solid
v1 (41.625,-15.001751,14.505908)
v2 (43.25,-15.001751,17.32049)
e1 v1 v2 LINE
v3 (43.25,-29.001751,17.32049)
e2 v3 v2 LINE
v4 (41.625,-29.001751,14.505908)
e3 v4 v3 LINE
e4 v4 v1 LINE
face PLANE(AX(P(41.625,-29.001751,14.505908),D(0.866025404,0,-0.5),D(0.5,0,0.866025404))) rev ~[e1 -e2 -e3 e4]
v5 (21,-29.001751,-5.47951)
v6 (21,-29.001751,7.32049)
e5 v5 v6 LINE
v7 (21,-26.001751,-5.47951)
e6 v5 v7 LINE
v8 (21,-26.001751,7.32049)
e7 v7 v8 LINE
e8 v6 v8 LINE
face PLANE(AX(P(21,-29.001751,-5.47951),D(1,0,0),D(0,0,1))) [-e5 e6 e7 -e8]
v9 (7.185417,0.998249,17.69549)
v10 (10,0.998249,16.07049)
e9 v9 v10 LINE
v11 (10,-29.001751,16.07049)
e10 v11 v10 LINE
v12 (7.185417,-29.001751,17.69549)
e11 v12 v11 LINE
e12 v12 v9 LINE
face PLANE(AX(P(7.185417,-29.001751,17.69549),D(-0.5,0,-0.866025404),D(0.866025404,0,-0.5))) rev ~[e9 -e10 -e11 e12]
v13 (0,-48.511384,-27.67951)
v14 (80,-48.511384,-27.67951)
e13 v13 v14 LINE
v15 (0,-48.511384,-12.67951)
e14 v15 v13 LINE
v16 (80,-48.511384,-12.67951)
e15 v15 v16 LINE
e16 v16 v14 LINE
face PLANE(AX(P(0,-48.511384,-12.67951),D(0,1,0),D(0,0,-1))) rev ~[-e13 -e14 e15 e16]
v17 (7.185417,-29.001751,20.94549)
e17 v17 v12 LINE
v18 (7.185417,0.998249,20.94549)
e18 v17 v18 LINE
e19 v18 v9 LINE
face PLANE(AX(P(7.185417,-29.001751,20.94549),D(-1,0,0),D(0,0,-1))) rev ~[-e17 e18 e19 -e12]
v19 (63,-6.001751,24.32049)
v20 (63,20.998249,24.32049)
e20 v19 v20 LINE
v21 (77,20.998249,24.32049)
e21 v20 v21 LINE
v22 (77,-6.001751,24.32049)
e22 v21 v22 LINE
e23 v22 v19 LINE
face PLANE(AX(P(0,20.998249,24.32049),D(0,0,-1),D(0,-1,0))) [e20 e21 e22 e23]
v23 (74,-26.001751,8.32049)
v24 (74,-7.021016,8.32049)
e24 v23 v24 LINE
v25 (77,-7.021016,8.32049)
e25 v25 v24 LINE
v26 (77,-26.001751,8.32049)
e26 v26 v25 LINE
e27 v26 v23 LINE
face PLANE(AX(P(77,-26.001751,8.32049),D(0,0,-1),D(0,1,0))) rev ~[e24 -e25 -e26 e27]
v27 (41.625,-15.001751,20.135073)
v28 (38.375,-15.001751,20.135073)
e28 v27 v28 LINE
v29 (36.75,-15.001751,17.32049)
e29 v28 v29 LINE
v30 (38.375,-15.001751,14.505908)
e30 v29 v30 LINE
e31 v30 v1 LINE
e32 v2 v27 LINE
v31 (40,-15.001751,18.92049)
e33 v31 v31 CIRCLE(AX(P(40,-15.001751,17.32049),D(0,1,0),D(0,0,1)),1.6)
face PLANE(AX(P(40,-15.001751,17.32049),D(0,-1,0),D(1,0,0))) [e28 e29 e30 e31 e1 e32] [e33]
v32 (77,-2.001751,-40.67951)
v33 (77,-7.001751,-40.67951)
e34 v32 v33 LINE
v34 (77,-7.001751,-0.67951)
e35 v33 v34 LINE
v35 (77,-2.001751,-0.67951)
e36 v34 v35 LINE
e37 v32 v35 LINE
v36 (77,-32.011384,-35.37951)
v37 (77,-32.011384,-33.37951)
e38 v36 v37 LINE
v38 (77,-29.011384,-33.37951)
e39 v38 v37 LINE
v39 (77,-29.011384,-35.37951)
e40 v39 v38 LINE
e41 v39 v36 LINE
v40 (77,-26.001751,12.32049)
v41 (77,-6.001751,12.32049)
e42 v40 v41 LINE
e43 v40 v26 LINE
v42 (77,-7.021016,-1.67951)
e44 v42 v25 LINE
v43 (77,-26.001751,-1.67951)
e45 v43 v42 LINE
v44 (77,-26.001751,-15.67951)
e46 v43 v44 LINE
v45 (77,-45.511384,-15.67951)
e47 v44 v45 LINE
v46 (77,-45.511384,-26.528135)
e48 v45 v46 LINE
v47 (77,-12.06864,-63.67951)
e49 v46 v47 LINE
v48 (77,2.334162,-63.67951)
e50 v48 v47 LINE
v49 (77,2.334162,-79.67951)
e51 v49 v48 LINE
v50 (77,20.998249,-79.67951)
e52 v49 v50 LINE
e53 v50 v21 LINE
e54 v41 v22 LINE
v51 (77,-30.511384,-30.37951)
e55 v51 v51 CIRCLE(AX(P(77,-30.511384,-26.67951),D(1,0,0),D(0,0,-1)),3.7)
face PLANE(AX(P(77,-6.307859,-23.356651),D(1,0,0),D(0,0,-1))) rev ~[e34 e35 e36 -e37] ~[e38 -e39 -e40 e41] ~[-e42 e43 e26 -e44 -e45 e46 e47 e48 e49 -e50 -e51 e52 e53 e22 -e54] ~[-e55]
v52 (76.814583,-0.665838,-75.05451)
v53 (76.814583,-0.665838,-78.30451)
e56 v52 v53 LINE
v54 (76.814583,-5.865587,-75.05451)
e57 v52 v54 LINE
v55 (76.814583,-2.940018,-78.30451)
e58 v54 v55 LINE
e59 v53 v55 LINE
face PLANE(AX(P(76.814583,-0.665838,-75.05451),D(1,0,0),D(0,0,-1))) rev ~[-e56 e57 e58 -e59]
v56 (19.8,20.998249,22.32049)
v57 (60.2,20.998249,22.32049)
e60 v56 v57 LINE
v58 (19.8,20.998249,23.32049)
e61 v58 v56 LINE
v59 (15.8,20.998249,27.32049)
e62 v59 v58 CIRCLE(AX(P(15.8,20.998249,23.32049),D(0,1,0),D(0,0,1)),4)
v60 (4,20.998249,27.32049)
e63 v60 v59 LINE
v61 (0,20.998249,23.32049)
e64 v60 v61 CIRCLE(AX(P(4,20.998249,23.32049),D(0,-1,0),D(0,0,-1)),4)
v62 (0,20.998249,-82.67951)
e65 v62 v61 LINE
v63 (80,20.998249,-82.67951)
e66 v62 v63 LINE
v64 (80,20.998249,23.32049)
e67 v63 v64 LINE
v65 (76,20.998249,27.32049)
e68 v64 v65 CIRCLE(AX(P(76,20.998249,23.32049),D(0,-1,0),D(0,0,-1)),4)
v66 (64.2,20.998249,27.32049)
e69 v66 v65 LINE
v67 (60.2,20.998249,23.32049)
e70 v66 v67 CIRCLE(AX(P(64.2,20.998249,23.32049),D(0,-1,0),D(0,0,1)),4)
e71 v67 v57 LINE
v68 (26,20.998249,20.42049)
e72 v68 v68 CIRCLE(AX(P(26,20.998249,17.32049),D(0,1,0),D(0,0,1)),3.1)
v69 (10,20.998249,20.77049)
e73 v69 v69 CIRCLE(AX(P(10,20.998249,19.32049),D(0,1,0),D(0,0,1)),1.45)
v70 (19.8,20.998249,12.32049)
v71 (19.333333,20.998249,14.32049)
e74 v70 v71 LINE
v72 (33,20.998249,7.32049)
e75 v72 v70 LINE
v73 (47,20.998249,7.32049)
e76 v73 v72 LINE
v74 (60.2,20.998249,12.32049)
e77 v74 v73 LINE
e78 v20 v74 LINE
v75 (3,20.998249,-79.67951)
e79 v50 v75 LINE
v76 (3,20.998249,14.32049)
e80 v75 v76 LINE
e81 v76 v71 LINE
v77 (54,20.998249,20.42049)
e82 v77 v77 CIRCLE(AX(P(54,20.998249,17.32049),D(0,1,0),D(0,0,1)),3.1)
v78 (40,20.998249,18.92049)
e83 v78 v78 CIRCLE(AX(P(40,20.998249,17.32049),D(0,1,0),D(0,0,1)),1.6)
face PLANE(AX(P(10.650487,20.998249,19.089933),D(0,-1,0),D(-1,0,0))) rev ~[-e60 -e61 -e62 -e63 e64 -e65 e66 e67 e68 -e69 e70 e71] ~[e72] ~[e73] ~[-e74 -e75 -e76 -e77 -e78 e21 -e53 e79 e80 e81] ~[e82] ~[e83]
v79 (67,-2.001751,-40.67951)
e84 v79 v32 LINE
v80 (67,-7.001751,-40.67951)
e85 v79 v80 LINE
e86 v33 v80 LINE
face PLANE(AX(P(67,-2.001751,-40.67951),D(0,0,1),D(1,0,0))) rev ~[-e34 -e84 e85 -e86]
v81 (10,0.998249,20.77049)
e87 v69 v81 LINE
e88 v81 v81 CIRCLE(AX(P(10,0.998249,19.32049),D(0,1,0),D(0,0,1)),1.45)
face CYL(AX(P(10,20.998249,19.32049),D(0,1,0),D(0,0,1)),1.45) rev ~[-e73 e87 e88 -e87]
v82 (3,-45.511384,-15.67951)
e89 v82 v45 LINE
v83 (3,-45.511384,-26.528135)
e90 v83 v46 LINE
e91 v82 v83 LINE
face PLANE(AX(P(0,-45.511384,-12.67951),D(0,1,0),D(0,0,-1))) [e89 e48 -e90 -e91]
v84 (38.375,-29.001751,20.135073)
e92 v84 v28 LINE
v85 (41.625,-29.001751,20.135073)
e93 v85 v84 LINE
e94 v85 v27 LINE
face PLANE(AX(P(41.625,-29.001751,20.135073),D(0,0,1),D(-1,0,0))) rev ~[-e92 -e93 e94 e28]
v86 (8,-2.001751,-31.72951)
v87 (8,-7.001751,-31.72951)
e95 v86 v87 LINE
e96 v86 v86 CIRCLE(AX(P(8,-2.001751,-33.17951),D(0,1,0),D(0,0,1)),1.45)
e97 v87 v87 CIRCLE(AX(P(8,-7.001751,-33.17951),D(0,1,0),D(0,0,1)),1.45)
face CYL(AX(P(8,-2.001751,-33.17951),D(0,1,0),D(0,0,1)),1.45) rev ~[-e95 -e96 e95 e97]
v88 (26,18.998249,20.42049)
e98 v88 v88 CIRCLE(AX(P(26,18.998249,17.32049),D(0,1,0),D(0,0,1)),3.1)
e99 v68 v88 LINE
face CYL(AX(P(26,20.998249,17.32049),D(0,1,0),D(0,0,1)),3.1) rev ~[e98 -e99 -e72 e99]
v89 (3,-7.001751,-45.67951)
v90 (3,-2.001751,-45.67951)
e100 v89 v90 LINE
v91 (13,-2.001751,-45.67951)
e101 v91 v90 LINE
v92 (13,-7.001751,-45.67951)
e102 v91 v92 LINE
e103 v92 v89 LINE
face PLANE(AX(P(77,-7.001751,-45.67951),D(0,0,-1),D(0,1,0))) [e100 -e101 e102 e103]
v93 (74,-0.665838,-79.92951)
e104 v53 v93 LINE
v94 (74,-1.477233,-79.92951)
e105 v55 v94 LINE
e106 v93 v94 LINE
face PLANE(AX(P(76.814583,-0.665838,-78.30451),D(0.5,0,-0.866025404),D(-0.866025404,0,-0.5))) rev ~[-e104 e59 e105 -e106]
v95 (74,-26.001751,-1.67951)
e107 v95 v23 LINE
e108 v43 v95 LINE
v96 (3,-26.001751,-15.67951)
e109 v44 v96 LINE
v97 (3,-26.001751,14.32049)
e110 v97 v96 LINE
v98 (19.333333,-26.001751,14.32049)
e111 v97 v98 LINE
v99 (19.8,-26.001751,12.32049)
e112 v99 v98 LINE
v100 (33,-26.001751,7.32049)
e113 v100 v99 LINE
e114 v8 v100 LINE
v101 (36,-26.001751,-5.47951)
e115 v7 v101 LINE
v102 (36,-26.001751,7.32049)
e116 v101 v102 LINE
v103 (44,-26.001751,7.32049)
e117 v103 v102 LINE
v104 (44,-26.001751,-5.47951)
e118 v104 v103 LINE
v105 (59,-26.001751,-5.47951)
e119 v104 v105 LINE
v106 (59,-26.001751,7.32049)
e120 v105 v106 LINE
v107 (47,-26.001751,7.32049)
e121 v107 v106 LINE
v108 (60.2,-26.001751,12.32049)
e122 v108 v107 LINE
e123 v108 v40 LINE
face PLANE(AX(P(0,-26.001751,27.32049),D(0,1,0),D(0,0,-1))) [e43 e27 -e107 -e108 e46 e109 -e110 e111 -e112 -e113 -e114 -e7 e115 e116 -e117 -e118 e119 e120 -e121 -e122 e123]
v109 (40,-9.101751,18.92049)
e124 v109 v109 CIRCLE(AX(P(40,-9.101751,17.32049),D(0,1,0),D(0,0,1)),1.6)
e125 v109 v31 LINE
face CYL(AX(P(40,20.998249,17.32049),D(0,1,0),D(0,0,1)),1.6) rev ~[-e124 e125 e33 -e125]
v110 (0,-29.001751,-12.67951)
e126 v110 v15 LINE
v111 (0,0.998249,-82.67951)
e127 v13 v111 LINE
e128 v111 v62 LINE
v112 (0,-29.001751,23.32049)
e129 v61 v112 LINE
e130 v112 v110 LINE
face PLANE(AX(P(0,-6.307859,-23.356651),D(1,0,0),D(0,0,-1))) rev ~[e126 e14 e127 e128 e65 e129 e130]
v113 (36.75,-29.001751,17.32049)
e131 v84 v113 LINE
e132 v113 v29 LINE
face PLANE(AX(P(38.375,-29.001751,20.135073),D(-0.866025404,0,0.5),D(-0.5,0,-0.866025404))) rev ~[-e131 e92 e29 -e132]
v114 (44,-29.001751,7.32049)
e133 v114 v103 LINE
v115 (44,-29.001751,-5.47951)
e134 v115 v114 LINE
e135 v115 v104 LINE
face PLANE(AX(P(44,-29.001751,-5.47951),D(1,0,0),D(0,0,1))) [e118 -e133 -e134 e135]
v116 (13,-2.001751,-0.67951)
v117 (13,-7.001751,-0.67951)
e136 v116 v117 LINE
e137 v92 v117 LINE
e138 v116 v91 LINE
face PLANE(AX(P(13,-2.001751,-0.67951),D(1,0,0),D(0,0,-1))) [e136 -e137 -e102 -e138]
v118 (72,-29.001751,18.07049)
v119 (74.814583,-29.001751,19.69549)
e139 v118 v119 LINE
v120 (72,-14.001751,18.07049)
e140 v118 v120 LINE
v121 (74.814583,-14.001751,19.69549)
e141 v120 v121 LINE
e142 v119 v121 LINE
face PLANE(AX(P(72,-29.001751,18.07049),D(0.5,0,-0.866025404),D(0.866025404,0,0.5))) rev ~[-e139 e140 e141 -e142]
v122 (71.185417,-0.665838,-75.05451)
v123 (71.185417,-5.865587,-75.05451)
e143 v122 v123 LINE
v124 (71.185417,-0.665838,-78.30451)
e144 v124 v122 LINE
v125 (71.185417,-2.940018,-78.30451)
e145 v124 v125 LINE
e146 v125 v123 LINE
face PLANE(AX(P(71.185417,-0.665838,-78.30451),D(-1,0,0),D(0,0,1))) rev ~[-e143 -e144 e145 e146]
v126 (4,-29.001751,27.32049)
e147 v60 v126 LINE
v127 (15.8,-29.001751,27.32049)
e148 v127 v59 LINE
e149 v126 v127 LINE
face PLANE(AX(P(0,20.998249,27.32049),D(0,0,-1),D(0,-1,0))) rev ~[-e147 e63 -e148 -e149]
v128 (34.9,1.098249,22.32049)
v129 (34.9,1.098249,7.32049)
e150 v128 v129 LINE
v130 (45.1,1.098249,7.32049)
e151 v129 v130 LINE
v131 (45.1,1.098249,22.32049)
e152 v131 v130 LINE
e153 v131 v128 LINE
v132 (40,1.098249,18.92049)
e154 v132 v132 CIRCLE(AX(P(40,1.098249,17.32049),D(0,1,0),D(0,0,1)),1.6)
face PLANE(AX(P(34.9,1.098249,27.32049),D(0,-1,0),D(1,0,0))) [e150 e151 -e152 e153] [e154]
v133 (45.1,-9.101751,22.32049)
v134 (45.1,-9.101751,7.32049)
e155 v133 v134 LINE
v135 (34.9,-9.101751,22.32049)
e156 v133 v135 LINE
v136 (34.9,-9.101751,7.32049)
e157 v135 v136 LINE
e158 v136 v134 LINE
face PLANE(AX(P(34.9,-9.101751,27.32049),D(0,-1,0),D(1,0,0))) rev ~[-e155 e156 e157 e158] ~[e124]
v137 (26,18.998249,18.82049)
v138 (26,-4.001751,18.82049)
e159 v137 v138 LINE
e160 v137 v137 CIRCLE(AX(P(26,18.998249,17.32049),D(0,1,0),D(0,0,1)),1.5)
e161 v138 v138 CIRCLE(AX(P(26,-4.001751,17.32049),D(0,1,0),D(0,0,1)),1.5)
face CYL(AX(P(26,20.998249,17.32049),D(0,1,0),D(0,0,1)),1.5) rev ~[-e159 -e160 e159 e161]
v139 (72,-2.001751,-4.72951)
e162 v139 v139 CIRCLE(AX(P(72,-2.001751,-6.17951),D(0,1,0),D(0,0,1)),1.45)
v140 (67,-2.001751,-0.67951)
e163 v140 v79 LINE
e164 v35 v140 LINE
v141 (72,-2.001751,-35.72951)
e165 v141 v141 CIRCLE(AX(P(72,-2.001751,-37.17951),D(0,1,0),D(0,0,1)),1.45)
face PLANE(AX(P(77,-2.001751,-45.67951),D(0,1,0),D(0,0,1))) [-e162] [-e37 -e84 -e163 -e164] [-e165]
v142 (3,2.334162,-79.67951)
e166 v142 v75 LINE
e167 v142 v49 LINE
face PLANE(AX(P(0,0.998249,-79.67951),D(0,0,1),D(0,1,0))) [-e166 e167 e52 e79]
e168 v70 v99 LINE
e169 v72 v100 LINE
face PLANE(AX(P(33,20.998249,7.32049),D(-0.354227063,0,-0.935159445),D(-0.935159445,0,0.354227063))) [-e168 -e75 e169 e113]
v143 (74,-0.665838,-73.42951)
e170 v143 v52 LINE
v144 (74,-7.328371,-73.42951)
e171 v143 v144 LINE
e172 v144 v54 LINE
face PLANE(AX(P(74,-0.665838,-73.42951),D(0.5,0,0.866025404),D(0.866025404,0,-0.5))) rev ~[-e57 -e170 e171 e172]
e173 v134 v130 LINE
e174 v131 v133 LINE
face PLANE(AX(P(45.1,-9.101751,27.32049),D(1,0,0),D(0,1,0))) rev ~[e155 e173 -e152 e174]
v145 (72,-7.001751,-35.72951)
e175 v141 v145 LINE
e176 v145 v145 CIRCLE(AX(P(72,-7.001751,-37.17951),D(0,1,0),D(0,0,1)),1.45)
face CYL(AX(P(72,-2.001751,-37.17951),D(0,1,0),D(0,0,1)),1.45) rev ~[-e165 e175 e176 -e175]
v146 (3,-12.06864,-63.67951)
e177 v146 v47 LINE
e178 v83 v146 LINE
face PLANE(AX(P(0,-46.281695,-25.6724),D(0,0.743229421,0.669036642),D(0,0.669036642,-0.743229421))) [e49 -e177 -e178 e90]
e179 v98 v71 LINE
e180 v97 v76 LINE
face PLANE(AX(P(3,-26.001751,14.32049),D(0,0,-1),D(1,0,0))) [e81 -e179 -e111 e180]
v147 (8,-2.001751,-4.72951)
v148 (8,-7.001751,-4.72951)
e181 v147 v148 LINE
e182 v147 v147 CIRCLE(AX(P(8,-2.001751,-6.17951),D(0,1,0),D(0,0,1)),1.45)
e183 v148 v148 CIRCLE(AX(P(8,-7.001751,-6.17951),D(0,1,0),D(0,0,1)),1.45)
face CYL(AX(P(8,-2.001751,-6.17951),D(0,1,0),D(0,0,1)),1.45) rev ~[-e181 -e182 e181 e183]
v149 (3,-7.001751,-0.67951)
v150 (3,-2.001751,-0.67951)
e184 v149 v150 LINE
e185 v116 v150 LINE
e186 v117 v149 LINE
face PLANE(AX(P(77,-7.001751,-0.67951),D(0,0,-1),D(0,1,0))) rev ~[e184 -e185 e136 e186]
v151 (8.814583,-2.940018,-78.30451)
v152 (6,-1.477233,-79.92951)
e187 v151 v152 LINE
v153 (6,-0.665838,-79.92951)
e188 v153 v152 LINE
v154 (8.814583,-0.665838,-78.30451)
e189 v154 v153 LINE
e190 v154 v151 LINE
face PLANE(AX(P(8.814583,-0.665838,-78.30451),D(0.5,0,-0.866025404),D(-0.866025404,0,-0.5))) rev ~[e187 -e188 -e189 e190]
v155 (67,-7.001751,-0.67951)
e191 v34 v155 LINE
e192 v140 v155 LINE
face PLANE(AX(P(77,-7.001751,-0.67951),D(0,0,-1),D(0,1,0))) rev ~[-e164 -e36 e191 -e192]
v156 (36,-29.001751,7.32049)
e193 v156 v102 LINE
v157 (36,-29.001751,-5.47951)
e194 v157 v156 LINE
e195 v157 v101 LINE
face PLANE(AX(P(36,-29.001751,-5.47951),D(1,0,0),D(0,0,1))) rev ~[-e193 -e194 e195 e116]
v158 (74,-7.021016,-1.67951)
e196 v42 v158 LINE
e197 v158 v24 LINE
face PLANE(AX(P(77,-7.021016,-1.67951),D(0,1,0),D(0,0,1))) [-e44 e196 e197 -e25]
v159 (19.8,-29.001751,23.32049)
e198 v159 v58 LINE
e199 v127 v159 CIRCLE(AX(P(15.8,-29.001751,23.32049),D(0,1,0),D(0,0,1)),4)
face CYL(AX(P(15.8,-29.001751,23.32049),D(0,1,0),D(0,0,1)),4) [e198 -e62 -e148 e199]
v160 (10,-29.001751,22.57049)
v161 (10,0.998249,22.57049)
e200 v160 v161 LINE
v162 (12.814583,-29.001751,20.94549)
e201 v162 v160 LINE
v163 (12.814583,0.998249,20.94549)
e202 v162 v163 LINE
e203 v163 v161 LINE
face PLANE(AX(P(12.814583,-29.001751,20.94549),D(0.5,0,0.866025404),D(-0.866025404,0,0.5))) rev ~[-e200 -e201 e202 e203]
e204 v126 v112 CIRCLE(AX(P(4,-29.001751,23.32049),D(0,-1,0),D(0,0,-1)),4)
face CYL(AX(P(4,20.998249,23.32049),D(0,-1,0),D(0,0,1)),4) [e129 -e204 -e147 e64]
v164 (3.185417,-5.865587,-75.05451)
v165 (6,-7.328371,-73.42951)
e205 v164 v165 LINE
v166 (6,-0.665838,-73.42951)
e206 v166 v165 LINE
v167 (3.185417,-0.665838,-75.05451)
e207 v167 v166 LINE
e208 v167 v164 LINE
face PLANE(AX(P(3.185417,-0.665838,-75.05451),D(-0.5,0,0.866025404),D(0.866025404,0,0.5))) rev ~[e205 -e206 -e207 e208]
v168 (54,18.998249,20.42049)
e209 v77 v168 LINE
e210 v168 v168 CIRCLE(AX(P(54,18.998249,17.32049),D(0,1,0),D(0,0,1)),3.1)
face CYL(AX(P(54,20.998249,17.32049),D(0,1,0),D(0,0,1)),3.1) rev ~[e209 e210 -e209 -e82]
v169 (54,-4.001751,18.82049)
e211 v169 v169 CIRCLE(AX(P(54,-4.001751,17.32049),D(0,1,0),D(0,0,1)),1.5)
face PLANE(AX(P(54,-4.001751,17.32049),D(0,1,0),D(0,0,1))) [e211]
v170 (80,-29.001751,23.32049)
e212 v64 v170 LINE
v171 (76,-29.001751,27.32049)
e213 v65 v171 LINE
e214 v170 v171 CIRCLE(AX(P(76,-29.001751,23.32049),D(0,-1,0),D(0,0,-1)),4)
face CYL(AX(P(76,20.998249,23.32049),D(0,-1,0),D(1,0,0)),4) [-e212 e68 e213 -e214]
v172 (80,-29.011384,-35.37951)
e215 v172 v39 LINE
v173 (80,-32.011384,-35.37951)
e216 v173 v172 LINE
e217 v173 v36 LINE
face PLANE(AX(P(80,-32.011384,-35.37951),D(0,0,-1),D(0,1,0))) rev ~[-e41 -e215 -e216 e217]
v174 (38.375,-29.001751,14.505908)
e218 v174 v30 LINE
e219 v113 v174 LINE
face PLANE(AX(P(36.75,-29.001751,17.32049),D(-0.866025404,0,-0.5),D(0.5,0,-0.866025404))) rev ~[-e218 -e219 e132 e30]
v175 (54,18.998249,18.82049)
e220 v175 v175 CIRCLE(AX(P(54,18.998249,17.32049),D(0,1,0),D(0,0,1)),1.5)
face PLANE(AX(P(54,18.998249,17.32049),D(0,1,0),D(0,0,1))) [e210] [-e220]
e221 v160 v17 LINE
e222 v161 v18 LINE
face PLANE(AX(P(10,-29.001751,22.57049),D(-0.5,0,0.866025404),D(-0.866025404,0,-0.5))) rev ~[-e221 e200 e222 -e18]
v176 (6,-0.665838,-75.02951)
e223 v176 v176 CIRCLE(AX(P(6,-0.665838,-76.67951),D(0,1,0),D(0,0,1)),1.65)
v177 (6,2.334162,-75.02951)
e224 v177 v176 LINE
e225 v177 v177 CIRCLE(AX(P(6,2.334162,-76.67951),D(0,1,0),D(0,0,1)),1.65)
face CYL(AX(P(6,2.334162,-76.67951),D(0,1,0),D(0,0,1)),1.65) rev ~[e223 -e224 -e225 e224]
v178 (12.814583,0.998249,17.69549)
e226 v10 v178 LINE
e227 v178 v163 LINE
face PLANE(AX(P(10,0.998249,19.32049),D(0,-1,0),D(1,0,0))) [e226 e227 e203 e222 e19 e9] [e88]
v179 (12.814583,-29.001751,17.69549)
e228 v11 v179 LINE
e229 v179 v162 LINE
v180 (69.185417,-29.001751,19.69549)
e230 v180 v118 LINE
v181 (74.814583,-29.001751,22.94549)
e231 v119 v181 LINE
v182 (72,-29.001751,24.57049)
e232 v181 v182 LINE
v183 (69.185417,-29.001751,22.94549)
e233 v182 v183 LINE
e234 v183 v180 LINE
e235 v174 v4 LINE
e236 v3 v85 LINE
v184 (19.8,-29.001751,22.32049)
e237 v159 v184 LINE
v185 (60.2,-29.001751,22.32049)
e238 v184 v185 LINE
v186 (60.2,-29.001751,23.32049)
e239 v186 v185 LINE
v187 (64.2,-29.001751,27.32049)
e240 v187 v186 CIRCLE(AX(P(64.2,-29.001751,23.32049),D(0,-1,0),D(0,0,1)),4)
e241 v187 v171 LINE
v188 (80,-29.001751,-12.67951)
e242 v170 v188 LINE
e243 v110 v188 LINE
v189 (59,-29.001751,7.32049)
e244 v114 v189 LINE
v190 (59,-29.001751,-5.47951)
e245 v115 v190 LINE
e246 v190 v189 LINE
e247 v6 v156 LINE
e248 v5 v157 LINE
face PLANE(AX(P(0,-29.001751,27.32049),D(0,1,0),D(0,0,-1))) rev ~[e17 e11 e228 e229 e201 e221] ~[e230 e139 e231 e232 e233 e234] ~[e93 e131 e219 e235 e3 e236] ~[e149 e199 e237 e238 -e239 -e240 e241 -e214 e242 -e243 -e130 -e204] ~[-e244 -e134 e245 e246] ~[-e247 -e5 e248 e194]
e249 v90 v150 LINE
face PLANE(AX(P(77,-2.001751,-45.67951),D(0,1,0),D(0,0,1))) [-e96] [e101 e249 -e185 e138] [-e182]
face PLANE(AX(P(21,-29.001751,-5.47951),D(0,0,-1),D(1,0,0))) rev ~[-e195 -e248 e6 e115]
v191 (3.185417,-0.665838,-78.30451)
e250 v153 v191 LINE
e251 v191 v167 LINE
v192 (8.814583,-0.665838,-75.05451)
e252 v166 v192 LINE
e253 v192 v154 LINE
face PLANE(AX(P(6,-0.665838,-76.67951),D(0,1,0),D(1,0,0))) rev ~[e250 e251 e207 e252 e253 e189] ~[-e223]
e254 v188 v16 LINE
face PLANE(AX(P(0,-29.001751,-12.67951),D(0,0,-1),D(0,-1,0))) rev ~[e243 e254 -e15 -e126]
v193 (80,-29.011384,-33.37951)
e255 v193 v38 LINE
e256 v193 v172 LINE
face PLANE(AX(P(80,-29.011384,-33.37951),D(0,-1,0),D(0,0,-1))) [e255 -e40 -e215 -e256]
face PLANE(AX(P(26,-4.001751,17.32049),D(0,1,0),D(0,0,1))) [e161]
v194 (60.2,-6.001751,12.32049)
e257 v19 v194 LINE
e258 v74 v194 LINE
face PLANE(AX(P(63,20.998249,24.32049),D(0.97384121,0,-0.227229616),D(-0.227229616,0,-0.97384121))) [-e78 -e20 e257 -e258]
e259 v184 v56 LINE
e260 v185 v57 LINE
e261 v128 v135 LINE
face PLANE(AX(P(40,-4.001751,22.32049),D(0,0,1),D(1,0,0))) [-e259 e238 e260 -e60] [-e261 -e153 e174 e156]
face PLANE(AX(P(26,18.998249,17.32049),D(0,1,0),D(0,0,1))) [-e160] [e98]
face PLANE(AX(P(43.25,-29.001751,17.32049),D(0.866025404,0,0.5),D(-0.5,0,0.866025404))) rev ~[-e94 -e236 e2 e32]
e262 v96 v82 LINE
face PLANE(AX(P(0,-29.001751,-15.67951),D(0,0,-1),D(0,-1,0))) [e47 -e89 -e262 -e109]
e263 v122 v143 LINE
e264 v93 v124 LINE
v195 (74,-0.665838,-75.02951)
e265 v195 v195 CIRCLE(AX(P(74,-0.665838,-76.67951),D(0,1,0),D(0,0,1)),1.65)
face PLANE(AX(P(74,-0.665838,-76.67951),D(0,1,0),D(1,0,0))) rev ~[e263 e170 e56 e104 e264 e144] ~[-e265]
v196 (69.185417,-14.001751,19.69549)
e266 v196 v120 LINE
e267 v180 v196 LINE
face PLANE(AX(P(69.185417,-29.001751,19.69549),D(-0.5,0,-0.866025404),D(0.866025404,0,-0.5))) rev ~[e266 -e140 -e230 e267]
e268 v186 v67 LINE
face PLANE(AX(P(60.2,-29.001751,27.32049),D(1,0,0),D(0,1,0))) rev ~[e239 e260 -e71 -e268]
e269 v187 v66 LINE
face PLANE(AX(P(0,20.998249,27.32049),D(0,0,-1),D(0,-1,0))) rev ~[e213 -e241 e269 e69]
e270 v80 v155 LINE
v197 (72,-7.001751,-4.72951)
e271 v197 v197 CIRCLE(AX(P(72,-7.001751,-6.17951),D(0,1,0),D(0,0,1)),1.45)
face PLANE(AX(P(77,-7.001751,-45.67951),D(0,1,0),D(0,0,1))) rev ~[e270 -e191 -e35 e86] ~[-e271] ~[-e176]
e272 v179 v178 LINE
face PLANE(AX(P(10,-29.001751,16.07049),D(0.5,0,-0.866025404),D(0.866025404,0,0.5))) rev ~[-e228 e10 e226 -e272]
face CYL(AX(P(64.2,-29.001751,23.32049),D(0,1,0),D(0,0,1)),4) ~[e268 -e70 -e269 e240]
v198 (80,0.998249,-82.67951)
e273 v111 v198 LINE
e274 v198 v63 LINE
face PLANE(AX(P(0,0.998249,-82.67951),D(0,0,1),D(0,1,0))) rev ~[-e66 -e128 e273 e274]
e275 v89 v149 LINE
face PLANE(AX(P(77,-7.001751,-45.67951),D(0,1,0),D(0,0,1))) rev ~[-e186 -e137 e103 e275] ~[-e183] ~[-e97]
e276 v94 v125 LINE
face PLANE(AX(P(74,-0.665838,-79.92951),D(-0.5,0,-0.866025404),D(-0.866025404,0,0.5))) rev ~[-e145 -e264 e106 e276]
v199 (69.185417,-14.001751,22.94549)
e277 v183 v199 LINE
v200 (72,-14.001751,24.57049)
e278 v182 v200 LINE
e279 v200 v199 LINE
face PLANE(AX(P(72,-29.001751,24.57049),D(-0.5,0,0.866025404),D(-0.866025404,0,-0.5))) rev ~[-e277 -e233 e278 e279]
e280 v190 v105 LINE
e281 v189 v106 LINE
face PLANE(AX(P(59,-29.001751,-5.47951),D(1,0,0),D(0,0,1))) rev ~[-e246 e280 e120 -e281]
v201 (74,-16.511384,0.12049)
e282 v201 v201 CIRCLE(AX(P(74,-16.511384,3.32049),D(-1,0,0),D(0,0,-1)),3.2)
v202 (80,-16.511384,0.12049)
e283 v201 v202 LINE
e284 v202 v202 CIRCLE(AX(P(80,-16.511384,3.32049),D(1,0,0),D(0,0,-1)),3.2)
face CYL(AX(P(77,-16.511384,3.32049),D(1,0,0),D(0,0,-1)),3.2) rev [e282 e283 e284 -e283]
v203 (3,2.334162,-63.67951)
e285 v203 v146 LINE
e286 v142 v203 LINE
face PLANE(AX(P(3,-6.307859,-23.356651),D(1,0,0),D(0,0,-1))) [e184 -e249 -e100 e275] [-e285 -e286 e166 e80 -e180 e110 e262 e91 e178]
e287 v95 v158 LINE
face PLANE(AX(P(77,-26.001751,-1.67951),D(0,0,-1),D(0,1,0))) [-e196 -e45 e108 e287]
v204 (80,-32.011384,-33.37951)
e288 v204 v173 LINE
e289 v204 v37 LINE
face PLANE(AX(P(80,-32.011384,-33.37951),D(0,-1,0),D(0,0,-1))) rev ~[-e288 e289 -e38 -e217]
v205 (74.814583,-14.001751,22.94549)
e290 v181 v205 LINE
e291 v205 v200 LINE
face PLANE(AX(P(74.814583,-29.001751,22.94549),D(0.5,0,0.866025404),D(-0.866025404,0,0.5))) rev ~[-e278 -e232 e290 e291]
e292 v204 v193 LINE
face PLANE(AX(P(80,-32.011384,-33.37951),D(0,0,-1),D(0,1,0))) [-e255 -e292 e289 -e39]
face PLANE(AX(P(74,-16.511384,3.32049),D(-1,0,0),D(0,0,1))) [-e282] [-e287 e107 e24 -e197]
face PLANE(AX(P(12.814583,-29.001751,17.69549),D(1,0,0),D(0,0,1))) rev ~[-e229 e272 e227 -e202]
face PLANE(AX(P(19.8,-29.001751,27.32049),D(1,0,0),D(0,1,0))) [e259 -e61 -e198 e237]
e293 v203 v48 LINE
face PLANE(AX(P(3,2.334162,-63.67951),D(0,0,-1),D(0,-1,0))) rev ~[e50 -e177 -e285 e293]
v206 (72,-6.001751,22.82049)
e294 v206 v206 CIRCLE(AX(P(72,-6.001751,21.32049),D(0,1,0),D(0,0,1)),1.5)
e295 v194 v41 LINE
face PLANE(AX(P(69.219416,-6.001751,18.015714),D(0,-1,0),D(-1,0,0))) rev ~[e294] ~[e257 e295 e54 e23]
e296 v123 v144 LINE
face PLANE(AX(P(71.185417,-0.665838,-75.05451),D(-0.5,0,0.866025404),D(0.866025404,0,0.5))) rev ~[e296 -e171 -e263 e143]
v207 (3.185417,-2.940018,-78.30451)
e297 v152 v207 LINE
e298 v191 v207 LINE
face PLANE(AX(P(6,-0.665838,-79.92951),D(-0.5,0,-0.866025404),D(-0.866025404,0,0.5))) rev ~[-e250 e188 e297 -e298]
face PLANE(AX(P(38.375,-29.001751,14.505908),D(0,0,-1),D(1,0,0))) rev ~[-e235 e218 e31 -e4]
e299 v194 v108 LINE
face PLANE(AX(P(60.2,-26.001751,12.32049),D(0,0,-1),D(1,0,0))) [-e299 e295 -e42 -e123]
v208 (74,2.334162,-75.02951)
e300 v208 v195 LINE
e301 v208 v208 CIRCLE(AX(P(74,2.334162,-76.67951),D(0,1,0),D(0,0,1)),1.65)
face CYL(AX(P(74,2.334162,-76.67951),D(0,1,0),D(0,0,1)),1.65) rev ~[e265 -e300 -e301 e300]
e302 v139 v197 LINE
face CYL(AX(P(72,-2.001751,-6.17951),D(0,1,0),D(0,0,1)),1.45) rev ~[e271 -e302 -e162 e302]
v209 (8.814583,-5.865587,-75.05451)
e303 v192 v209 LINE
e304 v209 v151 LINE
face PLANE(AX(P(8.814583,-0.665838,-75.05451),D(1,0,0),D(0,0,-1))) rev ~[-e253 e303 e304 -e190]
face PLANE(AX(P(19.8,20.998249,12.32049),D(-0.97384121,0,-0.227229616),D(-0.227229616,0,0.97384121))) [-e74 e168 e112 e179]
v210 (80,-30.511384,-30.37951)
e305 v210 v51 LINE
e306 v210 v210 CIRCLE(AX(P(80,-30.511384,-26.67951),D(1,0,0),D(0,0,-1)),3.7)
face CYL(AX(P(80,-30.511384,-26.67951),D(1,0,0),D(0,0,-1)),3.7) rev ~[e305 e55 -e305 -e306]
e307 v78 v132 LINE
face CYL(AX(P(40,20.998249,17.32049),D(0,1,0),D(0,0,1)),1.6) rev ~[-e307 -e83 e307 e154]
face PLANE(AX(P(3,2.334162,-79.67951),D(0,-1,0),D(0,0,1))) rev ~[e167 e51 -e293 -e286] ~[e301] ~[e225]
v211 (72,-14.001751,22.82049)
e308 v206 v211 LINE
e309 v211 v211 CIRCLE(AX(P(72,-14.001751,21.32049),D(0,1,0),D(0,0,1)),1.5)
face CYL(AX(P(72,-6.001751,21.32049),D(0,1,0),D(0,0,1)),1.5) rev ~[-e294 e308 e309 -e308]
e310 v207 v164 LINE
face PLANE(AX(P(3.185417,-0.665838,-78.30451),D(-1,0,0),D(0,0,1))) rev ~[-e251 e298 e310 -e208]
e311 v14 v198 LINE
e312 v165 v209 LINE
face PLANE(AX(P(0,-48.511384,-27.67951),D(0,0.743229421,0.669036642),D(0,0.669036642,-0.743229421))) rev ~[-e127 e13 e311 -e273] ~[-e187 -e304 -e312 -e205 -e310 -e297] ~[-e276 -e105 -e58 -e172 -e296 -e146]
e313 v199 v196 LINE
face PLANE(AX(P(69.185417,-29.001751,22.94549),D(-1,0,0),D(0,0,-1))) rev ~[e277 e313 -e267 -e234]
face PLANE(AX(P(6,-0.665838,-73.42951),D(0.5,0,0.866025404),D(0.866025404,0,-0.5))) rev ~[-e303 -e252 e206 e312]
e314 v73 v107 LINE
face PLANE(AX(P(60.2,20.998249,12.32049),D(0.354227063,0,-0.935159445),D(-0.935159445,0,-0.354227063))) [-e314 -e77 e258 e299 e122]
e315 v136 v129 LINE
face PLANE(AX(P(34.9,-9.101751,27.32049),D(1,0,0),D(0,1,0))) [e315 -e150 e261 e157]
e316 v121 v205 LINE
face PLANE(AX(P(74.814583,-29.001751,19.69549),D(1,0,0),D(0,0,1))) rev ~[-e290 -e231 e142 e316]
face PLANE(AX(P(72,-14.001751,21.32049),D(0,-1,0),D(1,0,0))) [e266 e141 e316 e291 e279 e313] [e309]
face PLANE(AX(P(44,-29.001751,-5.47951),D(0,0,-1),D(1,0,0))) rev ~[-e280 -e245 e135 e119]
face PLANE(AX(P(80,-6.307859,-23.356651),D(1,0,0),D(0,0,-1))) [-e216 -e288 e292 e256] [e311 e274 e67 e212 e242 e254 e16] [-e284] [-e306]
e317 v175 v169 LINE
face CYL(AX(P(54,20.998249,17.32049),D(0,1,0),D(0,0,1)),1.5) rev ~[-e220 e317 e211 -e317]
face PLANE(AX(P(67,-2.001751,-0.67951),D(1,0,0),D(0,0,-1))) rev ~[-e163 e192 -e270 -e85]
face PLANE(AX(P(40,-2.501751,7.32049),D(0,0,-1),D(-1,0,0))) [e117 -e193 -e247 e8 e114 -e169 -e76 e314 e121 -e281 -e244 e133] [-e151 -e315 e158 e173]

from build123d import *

# Parameters (mm, degrees)
BOSS_EXTRUDE1_DEPTH = 80
SHELL1_T            = -3
SKETCH3_W           = 46
SKETCH3_H           = 47
BOSS_EXTRUDE2_DEPTH = 17
SKETCH4_W           = 10.2
SKETCH4_H           = 10.2
CUT_EXTRUDE1_DEPTH  = 20
SKETCH6_W           = 15
SKETCH6_H           = 12.8
CUT_EXTRUDE2_DEPTH  = 3
SKETCH7_W           = 40.4
SKETCH7_H           = 50
CUT_EXTRUDE3_DEPTH  = 5
FILLET1_R           = 4
CUT_EXTRUDE7_DEPTH  = 47
SKETCH13_R          = 1.5
CUT_EXTRUDE8_DEPTH  = 25
SKETCH14_R          = 3.1
CUT_EXTRUDE9_DEPTH  = 2
SKETCH17_W          = 45
SKETCH17_H          = 5
BOSS_EXTRUDE5_DEPTH = 74
CUT_EXTRUDE10_REACH = 126.093
SKETCH18_W          = 54
SKETCH18_H          = 45
CUT_EXTRUDE11_REACH = 126.093
SKETCH19_R          = 1.45
BOSS_EXTRUDE6_DEPTH = 47
SKETCH22_R          = 1.45
CUT_EXTRUDE12_DEPTH = 135.415364765
CUT_EXTRUDE13_REACH = 126.857
SKETCH24_R          = 3.7
SKETCH24_W          = 2
SKETCH24_H          = 3
BOSS_EXTRUDE7_DEPTH = 74
SKETCH27_R          = 1.65
CUT_EXTRUDE14_DEPTH = 10
CUT_EXTRUDE15_START = -3
CUT_EXTRUDE15_DEPTH = 32
CUT_EXTRUDE16_DEPTH = 30
BOSS_EXTRUDE8_DEPTH = 20
SKETCH31_R          = 1.5
CUT_EXTRUDE17_DEPTH = 123.649786567
CUT_EXTRUDE18_DEPTH = 15
CUT_EXTRUDE19_REACH = 126.093
SKETCH33_W          = 10
SKETCH33_H          = 5
SKETCH34_R          = 1.6
CUT_EXTRUDE20_DEPTH = 135.415364765
CUT_EXTRUDE22_DEPTH = 14
CUT_EXTRUDE23_REACH = 126.857
SKETCH37_R          = 3.2
SKETCH38_W          = 10
SKETCH38_H          = 18.980735551
SKETCH38_R          = 3.2
BOSS_EXTRUDE9_DEPTH = 3


with BuildPart() as part:
    # Sketch2 → Boss-Extrude1 (new body)
    with BuildSketch(Plane(origin=(0, 0, 0), x_dir=(0, 0, -1), z_dir=(1, 0, 0))):
        Polygon((-27.320490368, 20.998248687), (-27.320490368, -29.001751313), (12.679509632, -29.001751313), (12.679509632, -48.511383538), (27.679509632, -48.511383538), (82.679509632, 0.998248687), (82.679509632, 20.998248687), align=None)
    extrude(amount=BOSS_EXTRUDE1_DEPTH)

    # Shell1
    shell1_openings = [part.faces().sort_by_distance(p)[0] for p in [
        (40, 20.998248687, -27.679509632),
    ]]
    offset(amount=SHELL1_T, openings=shell1_openings, kind=Kind.INTERSECTION)

    # Sketch3 → Boss-Extrude2 (add)
    with BuildSketch(Plane(origin=(0, 0, 24.320490368), x_dir=(-1, 0, 0), z_dir=(0, 0, -1))):
        with Locations((-40, -2.501751313)):
            Rectangle(SKETCH3_W, SKETCH3_H)
    extrude(amount=BOSS_EXTRUDE2_DEPTH)

    # Sketch4 → Cut-Extrude1 (cut)
    with BuildSketch(Plane.XY.offset(27.320490368)):
        with Locations((40, -4.001751313)):
            Rectangle(SKETCH4_W, SKETCH4_H)
    extrude(amount=-CUT_EXTRUDE1_DEPTH, mode=Mode.SUBTRACT)

    # Sketch6 → Cut-Extrude2 (cut)
    with BuildSketch(Plane.XZ.offset(29.001751313)):
        with Locations((51.5, 0.920490368)):
            Rectangle(SKETCH6_W, SKETCH6_H)
        with Locations((28.5, 0.920490368)):
            Rectangle(SKETCH6_W, SKETCH6_H)
    extrude(amount=-CUT_EXTRUDE2_DEPTH, mode=Mode.SUBTRACT)

    # Sketch7 → Cut-Extrude3 (cut)
    with BuildSketch(Plane.XY.offset(27.320490368)):
        with Locations((40, -4.001751313)):
            Rectangle(SKETCH7_W, SKETCH7_H)
    extrude(amount=-CUT_EXTRUDE3_DEPTH, mode=Mode.SUBTRACT)

    # Fillet1
    fillet1_edges = [part.edges().sort_by_distance(p)[0] for p in [
        (19.8, -4.001751313, 27.320490368),
        (60.2, -4.001751313, 27.320490368),
        (80, -4.001751313, 27.320490368),
        (0, -4.001751313, 27.320490368),
    ]]
    fillet(fillet1_edges, radius=FILLET1_R)

    # Sketch12 → Cut-Extrude7 (cut)
    with BuildSketch(Plane(origin=(0, 20.998248687, 0), x_dir=(1, 0, 0), z_dir=(0, 1, 0))):
        Polygon((33, -7.320490368), (19.8, -12.320490368), (17, -24.320490368), (17, -7.320490368), align=None)
        Polygon((47, -7.320490368), (63, -7.320490368), (63, -24.320490368), (60.2, -12.320490368), align=None)
    extrude(amount=-CUT_EXTRUDE7_DEPTH, mode=Mode.SUBTRACT)

    # Sketch13 → Cut-Extrude8 (cut)
    with BuildSketch(Plane(origin=(0, 20.998248687, 0), x_dir=(1, 0, 0), z_dir=(0, 1, 0))):
        with Locations(Location((26, -17.320490368, 0), (0, 0, 270))):
            Circle(SKETCH13_R)
        with Locations(Location((54, -17.320490368, 0), (0, 0, 270))):
            Circle(SKETCH13_R)
    extrude(amount=-CUT_EXTRUDE8_DEPTH, mode=Mode.SUBTRACT)

    # Sketch14 → Cut-Extrude9 (cut)
    with BuildSketch(Plane(origin=(0, 20.998248687, 0), x_dir=(1, 0, 0), z_dir=(0, 1, 0))):
        with Locations(Location((26, -17.320490368, 0), (0, 0, 270))):
            Circle(SKETCH14_R)
        with Locations(Location((54, -17.320490368, 0), (0, 0, 270))):
            Circle(SKETCH14_R)
    extrude(amount=-CUT_EXTRUDE9_DEPTH, mode=Mode.SUBTRACT)

    # Sketch17 → Boss-Extrude5 (add)
    with BuildSketch(Plane.ZY.offset(-77)):
        with Locations((-23.179509632, -4.501751313)):
            Rectangle(SKETCH17_W, SKETCH17_H)
    extrude(amount=BOSS_EXTRUDE5_DEPTH)

    # Sketch18 → Cut-Extrude10 (cut, up to next)
    with BuildSketch(Plane(origin=(0, -2.001751313, 0), x_dir=(1, 0, 0), z_dir=(0, 1, 0)), mode=Mode.PRIVATE) as cut_extrude10_sk1:
        with Locations((40, 23.179509632)):
            Rectangle(SKETCH18_W, SKETCH18_H)
    cut_extrude10_tool1 = extrude(cut_extrude10_sk1.sketch, amount=-CUT_EXTRUDE10_REACH, mode=Mode.PRIVATE) & part.part
    add(cut_extrude10_tool1.solids().sort_by_distance((40, -2.001751, -23.17951))[0], mode=Mode.SUBTRACT)

    # Sketch19 → Cut-Extrude11 (cut, up to next)
    with BuildSketch(Plane(origin=(0, -2.001751313, 0), x_dir=(1, 0, 0), z_dir=(0, 1, 0)), mode=Mode.PRIVATE) as cut_extrude11_sk1:
        with Locations(Location((72, 37.179509632, 0), (0, 0, 270))):
            Circle(SKETCH19_R)
    cut_extrude11_tool1 = extrude(cut_extrude11_sk1.sketch, amount=-CUT_EXTRUDE11_REACH, mode=Mode.PRIVATE) & part.part
    # Sketch19 → Cut-Extrude11 (cut, up to next)
    with BuildSketch(Plane(origin=(0, -2.001751313, 0), x_dir=(1, 0, 0), z_dir=(0, 1, 0)), mode=Mode.PRIVATE) as cut_extrude11_sk2:
        with Locations(Location((72, 6.179509632, 0), (0, 0, 270))):
            Circle(SKETCH19_R)
    cut_extrude11_tool2 = extrude(cut_extrude11_sk2.sketch, amount=-CUT_EXTRUDE11_REACH, mode=Mode.PRIVATE) & part.part
    # Sketch19 → Cut-Extrude11 (cut, up to next)
    with BuildSketch(Plane(origin=(0, -2.001751313, 0), x_dir=(1, 0, 0), z_dir=(0, 1, 0)), mode=Mode.PRIVATE) as cut_extrude11_sk3:
        with Locations(Location((8, 33.179509632, 0), (0, 0, 270))):
            Circle(SKETCH19_R)
    cut_extrude11_tool3 = extrude(cut_extrude11_sk3.sketch, amount=-CUT_EXTRUDE11_REACH, mode=Mode.PRIVATE) & part.part
    # Sketch19 → Cut-Extrude11 (cut, up to next)
    with BuildSketch(Plane(origin=(0, -2.001751313, 0), x_dir=(1, 0, 0), z_dir=(0, 1, 0)), mode=Mode.PRIVATE) as cut_extrude11_sk4:
        with Locations(Location((8, 6.179509632, 0), (0, 0, 270))):
            Circle(SKETCH19_R)
    cut_extrude11_tool4 = extrude(cut_extrude11_sk4.sketch, amount=-CUT_EXTRUDE11_REACH, mode=Mode.PRIVATE) & part.part
    add(cut_extrude11_tool1.solids().sort_by_distance((72, -2.001751, -37.17951))[0], mode=Mode.SUBTRACT)
    add(cut_extrude11_tool2.solids().sort_by_distance((72, -2.001751, -6.17951))[0], mode=Mode.SUBTRACT)
    add(cut_extrude11_tool3.solids().sort_by_distance((8, -2.001751, -33.17951))[0], mode=Mode.SUBTRACT)
    add(cut_extrude11_tool4.solids().sort_by_distance((8, -2.001751, -6.17951))[0], mode=Mode.SUBTRACT)

    # Sketch21 → Boss-Extrude6 (add)
    with BuildSketch(Plane(origin=(0, -26.001751313, 0), x_dir=(1, 0, 0), z_dir=(0, 1, 0))):
        Polygon((3, -24.320490368), (3, -14.320490368), (19.333333333, -14.320490368), (17, -24.320490368), align=None)
    extrude(amount=BOSS_EXTRUDE6_DEPTH)

    # Sketch22 → Cut-Extrude12 (cut, through all)
    with BuildSketch(Plane(origin=(0, 20.998248687, 0), x_dir=(1, 0, 0), z_dir=(0, 1, 0))):
        with Locations(Location((10, -19.320490368, 0), (0, 0, 270))):
            Circle(SKETCH22_R)
    extrude(amount=-CUT_EXTRUDE12_DEPTH, mode=Mode.SUBTRACT)

    # Sketch24 → Cut-Extrude13 (cut, up to next)
    with BuildSketch(Plane(origin=(80, 0, 0), x_dir=(0, 0, -1), z_dir=(1, 0, 0)), mode=Mode.PRIVATE) as cut_extrude13_sk1:
        with Locations((26.679509632, -30.511383538)):
            Circle(SKETCH24_R)
    cut_extrude13_tool1 = extrude(cut_extrude13_sk1.sketch, amount=-CUT_EXTRUDE13_REACH, mode=Mode.PRIVATE) & part.part
    # Sketch24 → Cut-Extrude13 (cut, up to next)
    with BuildSketch(Plane(origin=(80, 0, 0), x_dir=(0, 0, -1), z_dir=(1, 0, 0)), mode=Mode.PRIVATE) as cut_extrude13_sk2:
        with Locations((34.379509632, -30.511383538)):
            Rectangle(SKETCH24_W, SKETCH24_H)
    cut_extrude13_tool2 = extrude(cut_extrude13_sk2.sketch, amount=-CUT_EXTRUDE13_REACH, mode=Mode.PRIVATE) & part.part
    add(cut_extrude13_tool1.solids().sort_by_distance((80, -30.511384, -26.67951))[0], mode=Mode.SUBTRACT)
    add(cut_extrude13_tool2.solids().sort_by_distance((80, -30.511384, -34.37951))[0], mode=Mode.SUBTRACT)

    # Sketch26 → Boss-Extrude7 (add)
    with BuildSketch(Plane(origin=(3, 0, 0), x_dir=(0, 0, -1), z_dir=(1, 0, 0))):
        Polygon((79.679509632, 2.334161996), (63.679509632, 2.334161996), (63.679509632, -12.068640106), align=None)
    extrude(amount=BOSS_EXTRUDE7_DEPTH)

    # Sketch27 → Cut-Extrude14 (cut)
    with BuildSketch(Plane(origin=(0, 2.334161996, 0), x_dir=(1, 0, 0), z_dir=(0, 1, 0))):
        with Locations(Location((6, 76.679509632, 0), (0, 0, 270))):
            Circle(SKETCH27_R)
        with Locations(Location((74, 76.679509632, 0), (0, 0, 270))):
            Circle(SKETCH27_R)
    extrude(amount=-CUT_EXTRUDE14_DEPTH, mode=Mode.SUBTRACT)

    # Sketch28 → Cut-Extrude15 (cut)
    with BuildSketch(Plane(origin=(0, 2.334161996, 0), x_dir=(1, 0, 0), z_dir=(0, 1, 0)).offset(CUT_EXTRUDE15_START)):
        Polygon((74, 79.929509632), (71.185417438, 78.304509632), (71.185417438, 75.054509632), (74, 73.429509632), (76.814582562, 75.054509632), (76.814582562, 78.304509632), align=None)
        Polygon((6, 73.429509632), (8.814582562, 75.054509632), (8.814582562, 78.304509632), (6, 79.929509632), (3.185417438, 78.304509632), (3.185417438, 75.054509632), align=None)
    extrude(amount=-CUT_EXTRUDE15_DEPTH, mode=Mode.SUBTRACT)

    # Sketch29 → Cut-Extrude16 (cut)
    with BuildSketch(Plane.XZ.offset(29.001751313)):
        Polygon((7.185417438, 17.695490368), (10, 16.070490368), (12.814582562, 17.695490368), (12.814582562, 20.945490368), (10, 22.570490368), (7.185417438, 20.945490368), align=None)
    extrude(amount=-CUT_EXTRUDE16_DEPTH, mode=Mode.SUBTRACT)

    # Sketch30 → Boss-Extrude8 (add)
    with BuildSketch(Plane(origin=(0, -26.001751313, 0), x_dir=(1, 0, 0), z_dir=(0, 1, 0))):
        Polygon((77, -24.320490368), (63, -24.320490368), (60.2, -12.320490368), (77, -12.320490368), align=None)
    extrude(amount=BOSS_EXTRUDE8_DEPTH)

    # Sketch31 → Cut-Extrude17 (cut, through all)
    with BuildSketch(Plane(origin=(0, -6.001751313, 0), x_dir=(1, 0, 0), z_dir=(0, 1, 0))):
        with Locations(Location((72, -21.320490368, 0), (0, 0, 270))):
            Circle(SKETCH31_R)
    extrude(amount=-CUT_EXTRUDE17_DEPTH, mode=Mode.SUBTRACT)

    # Sketch32 → Cut-Extrude18 (cut)
    with BuildSketch(Plane.XZ.offset(29.001751313)):
        Polygon((72, 24.570490368), (69.185417438, 22.945490368), (69.185417438, 19.695490368), (72, 18.070490368), (74.814582562, 19.695490368), (74.814582562, 22.945490368), align=None)
    extrude(amount=-CUT_EXTRUDE18_DEPTH, mode=Mode.SUBTRACT)

    # Sketch33 → Cut-Extrude19 (cut, up to next)
    with BuildSketch(Plane(origin=(0, -2.001751313, 0), x_dir=(1, 0, 0), z_dir=(0, 1, 0)), mode=Mode.PRIVATE) as cut_extrude19_sk1:
        with Locations((72, 43.179509632)):
            Rectangle(SKETCH33_W, SKETCH33_H)
    cut_extrude19_tool1 = extrude(cut_extrude19_sk1.sketch, amount=-CUT_EXTRUDE19_REACH, mode=Mode.PRIVATE) & part.part
    add(cut_extrude19_tool1.solids().sort_by_distance((72, -2.001751, -43.17951))[0], mode=Mode.SUBTRACT)

    # Sketch34 → Cut-Extrude20 (cut, through all)
    with BuildSketch(Plane(origin=(0, 20.998248687, 0), x_dir=(1, 0, 0), z_dir=(0, 1, 0))):
        with Locations(Location((40, -17.320490368, 0), (0, 0, 270))):
            Circle(SKETCH34_R)
    extrude(amount=-CUT_EXTRUDE20_DEPTH, mode=Mode.SUBTRACT)

    # Sketch36 → Cut-Extrude22 (cut)
    with BuildSketch(Plane.XZ.offset(29.001751313)):
        Polygon((38.375, 20.13507293), (36.75, 17.320490368), (38.375, 14.505907805), (41.625, 14.505907805), (43.25, 17.320490368), (41.625, 20.13507293), align=None)
    extrude(amount=-CUT_EXTRUDE22_DEPTH, mode=Mode.SUBTRACT)

    # Sketch37 → Cut-Extrude23 (cut, up to next)
    with BuildSketch(Plane(origin=(80, 0, 0), x_dir=(0, 0, -1), z_dir=(1, 0, 0)), mode=Mode.PRIVATE) as cut_extrude23_sk1:
        with Locations((-3.320490368, -16.511383538)):
            Circle(SKETCH37_R)
    cut_extrude23_tool1 = extrude(cut_extrude23_sk1.sketch, amount=-CUT_EXTRUDE23_REACH, mode=Mode.PRIVATE) & part.part
    add(cut_extrude23_tool1.solids().sort_by_distance((80, -16.511384, 3.32049))[0], mode=Mode.SUBTRACT)

    # Sketch38 → Boss-Extrude9 (add)
    with BuildSketch(Plane.ZY.offset(-77)):
        with Locations((3.320490368, -16.511383538)):
            Rectangle(SKETCH38_W, SKETCH38_H)
        with Locations(Location((3.320490368, -16.511383538, 0), (0, 0, 180))):
            Circle(SKETCH38_R, mode=Mode.SUBTRACT)
    extrude(amount=BOSS_EXTRUDE9_DEPTH)


solid = part.part
